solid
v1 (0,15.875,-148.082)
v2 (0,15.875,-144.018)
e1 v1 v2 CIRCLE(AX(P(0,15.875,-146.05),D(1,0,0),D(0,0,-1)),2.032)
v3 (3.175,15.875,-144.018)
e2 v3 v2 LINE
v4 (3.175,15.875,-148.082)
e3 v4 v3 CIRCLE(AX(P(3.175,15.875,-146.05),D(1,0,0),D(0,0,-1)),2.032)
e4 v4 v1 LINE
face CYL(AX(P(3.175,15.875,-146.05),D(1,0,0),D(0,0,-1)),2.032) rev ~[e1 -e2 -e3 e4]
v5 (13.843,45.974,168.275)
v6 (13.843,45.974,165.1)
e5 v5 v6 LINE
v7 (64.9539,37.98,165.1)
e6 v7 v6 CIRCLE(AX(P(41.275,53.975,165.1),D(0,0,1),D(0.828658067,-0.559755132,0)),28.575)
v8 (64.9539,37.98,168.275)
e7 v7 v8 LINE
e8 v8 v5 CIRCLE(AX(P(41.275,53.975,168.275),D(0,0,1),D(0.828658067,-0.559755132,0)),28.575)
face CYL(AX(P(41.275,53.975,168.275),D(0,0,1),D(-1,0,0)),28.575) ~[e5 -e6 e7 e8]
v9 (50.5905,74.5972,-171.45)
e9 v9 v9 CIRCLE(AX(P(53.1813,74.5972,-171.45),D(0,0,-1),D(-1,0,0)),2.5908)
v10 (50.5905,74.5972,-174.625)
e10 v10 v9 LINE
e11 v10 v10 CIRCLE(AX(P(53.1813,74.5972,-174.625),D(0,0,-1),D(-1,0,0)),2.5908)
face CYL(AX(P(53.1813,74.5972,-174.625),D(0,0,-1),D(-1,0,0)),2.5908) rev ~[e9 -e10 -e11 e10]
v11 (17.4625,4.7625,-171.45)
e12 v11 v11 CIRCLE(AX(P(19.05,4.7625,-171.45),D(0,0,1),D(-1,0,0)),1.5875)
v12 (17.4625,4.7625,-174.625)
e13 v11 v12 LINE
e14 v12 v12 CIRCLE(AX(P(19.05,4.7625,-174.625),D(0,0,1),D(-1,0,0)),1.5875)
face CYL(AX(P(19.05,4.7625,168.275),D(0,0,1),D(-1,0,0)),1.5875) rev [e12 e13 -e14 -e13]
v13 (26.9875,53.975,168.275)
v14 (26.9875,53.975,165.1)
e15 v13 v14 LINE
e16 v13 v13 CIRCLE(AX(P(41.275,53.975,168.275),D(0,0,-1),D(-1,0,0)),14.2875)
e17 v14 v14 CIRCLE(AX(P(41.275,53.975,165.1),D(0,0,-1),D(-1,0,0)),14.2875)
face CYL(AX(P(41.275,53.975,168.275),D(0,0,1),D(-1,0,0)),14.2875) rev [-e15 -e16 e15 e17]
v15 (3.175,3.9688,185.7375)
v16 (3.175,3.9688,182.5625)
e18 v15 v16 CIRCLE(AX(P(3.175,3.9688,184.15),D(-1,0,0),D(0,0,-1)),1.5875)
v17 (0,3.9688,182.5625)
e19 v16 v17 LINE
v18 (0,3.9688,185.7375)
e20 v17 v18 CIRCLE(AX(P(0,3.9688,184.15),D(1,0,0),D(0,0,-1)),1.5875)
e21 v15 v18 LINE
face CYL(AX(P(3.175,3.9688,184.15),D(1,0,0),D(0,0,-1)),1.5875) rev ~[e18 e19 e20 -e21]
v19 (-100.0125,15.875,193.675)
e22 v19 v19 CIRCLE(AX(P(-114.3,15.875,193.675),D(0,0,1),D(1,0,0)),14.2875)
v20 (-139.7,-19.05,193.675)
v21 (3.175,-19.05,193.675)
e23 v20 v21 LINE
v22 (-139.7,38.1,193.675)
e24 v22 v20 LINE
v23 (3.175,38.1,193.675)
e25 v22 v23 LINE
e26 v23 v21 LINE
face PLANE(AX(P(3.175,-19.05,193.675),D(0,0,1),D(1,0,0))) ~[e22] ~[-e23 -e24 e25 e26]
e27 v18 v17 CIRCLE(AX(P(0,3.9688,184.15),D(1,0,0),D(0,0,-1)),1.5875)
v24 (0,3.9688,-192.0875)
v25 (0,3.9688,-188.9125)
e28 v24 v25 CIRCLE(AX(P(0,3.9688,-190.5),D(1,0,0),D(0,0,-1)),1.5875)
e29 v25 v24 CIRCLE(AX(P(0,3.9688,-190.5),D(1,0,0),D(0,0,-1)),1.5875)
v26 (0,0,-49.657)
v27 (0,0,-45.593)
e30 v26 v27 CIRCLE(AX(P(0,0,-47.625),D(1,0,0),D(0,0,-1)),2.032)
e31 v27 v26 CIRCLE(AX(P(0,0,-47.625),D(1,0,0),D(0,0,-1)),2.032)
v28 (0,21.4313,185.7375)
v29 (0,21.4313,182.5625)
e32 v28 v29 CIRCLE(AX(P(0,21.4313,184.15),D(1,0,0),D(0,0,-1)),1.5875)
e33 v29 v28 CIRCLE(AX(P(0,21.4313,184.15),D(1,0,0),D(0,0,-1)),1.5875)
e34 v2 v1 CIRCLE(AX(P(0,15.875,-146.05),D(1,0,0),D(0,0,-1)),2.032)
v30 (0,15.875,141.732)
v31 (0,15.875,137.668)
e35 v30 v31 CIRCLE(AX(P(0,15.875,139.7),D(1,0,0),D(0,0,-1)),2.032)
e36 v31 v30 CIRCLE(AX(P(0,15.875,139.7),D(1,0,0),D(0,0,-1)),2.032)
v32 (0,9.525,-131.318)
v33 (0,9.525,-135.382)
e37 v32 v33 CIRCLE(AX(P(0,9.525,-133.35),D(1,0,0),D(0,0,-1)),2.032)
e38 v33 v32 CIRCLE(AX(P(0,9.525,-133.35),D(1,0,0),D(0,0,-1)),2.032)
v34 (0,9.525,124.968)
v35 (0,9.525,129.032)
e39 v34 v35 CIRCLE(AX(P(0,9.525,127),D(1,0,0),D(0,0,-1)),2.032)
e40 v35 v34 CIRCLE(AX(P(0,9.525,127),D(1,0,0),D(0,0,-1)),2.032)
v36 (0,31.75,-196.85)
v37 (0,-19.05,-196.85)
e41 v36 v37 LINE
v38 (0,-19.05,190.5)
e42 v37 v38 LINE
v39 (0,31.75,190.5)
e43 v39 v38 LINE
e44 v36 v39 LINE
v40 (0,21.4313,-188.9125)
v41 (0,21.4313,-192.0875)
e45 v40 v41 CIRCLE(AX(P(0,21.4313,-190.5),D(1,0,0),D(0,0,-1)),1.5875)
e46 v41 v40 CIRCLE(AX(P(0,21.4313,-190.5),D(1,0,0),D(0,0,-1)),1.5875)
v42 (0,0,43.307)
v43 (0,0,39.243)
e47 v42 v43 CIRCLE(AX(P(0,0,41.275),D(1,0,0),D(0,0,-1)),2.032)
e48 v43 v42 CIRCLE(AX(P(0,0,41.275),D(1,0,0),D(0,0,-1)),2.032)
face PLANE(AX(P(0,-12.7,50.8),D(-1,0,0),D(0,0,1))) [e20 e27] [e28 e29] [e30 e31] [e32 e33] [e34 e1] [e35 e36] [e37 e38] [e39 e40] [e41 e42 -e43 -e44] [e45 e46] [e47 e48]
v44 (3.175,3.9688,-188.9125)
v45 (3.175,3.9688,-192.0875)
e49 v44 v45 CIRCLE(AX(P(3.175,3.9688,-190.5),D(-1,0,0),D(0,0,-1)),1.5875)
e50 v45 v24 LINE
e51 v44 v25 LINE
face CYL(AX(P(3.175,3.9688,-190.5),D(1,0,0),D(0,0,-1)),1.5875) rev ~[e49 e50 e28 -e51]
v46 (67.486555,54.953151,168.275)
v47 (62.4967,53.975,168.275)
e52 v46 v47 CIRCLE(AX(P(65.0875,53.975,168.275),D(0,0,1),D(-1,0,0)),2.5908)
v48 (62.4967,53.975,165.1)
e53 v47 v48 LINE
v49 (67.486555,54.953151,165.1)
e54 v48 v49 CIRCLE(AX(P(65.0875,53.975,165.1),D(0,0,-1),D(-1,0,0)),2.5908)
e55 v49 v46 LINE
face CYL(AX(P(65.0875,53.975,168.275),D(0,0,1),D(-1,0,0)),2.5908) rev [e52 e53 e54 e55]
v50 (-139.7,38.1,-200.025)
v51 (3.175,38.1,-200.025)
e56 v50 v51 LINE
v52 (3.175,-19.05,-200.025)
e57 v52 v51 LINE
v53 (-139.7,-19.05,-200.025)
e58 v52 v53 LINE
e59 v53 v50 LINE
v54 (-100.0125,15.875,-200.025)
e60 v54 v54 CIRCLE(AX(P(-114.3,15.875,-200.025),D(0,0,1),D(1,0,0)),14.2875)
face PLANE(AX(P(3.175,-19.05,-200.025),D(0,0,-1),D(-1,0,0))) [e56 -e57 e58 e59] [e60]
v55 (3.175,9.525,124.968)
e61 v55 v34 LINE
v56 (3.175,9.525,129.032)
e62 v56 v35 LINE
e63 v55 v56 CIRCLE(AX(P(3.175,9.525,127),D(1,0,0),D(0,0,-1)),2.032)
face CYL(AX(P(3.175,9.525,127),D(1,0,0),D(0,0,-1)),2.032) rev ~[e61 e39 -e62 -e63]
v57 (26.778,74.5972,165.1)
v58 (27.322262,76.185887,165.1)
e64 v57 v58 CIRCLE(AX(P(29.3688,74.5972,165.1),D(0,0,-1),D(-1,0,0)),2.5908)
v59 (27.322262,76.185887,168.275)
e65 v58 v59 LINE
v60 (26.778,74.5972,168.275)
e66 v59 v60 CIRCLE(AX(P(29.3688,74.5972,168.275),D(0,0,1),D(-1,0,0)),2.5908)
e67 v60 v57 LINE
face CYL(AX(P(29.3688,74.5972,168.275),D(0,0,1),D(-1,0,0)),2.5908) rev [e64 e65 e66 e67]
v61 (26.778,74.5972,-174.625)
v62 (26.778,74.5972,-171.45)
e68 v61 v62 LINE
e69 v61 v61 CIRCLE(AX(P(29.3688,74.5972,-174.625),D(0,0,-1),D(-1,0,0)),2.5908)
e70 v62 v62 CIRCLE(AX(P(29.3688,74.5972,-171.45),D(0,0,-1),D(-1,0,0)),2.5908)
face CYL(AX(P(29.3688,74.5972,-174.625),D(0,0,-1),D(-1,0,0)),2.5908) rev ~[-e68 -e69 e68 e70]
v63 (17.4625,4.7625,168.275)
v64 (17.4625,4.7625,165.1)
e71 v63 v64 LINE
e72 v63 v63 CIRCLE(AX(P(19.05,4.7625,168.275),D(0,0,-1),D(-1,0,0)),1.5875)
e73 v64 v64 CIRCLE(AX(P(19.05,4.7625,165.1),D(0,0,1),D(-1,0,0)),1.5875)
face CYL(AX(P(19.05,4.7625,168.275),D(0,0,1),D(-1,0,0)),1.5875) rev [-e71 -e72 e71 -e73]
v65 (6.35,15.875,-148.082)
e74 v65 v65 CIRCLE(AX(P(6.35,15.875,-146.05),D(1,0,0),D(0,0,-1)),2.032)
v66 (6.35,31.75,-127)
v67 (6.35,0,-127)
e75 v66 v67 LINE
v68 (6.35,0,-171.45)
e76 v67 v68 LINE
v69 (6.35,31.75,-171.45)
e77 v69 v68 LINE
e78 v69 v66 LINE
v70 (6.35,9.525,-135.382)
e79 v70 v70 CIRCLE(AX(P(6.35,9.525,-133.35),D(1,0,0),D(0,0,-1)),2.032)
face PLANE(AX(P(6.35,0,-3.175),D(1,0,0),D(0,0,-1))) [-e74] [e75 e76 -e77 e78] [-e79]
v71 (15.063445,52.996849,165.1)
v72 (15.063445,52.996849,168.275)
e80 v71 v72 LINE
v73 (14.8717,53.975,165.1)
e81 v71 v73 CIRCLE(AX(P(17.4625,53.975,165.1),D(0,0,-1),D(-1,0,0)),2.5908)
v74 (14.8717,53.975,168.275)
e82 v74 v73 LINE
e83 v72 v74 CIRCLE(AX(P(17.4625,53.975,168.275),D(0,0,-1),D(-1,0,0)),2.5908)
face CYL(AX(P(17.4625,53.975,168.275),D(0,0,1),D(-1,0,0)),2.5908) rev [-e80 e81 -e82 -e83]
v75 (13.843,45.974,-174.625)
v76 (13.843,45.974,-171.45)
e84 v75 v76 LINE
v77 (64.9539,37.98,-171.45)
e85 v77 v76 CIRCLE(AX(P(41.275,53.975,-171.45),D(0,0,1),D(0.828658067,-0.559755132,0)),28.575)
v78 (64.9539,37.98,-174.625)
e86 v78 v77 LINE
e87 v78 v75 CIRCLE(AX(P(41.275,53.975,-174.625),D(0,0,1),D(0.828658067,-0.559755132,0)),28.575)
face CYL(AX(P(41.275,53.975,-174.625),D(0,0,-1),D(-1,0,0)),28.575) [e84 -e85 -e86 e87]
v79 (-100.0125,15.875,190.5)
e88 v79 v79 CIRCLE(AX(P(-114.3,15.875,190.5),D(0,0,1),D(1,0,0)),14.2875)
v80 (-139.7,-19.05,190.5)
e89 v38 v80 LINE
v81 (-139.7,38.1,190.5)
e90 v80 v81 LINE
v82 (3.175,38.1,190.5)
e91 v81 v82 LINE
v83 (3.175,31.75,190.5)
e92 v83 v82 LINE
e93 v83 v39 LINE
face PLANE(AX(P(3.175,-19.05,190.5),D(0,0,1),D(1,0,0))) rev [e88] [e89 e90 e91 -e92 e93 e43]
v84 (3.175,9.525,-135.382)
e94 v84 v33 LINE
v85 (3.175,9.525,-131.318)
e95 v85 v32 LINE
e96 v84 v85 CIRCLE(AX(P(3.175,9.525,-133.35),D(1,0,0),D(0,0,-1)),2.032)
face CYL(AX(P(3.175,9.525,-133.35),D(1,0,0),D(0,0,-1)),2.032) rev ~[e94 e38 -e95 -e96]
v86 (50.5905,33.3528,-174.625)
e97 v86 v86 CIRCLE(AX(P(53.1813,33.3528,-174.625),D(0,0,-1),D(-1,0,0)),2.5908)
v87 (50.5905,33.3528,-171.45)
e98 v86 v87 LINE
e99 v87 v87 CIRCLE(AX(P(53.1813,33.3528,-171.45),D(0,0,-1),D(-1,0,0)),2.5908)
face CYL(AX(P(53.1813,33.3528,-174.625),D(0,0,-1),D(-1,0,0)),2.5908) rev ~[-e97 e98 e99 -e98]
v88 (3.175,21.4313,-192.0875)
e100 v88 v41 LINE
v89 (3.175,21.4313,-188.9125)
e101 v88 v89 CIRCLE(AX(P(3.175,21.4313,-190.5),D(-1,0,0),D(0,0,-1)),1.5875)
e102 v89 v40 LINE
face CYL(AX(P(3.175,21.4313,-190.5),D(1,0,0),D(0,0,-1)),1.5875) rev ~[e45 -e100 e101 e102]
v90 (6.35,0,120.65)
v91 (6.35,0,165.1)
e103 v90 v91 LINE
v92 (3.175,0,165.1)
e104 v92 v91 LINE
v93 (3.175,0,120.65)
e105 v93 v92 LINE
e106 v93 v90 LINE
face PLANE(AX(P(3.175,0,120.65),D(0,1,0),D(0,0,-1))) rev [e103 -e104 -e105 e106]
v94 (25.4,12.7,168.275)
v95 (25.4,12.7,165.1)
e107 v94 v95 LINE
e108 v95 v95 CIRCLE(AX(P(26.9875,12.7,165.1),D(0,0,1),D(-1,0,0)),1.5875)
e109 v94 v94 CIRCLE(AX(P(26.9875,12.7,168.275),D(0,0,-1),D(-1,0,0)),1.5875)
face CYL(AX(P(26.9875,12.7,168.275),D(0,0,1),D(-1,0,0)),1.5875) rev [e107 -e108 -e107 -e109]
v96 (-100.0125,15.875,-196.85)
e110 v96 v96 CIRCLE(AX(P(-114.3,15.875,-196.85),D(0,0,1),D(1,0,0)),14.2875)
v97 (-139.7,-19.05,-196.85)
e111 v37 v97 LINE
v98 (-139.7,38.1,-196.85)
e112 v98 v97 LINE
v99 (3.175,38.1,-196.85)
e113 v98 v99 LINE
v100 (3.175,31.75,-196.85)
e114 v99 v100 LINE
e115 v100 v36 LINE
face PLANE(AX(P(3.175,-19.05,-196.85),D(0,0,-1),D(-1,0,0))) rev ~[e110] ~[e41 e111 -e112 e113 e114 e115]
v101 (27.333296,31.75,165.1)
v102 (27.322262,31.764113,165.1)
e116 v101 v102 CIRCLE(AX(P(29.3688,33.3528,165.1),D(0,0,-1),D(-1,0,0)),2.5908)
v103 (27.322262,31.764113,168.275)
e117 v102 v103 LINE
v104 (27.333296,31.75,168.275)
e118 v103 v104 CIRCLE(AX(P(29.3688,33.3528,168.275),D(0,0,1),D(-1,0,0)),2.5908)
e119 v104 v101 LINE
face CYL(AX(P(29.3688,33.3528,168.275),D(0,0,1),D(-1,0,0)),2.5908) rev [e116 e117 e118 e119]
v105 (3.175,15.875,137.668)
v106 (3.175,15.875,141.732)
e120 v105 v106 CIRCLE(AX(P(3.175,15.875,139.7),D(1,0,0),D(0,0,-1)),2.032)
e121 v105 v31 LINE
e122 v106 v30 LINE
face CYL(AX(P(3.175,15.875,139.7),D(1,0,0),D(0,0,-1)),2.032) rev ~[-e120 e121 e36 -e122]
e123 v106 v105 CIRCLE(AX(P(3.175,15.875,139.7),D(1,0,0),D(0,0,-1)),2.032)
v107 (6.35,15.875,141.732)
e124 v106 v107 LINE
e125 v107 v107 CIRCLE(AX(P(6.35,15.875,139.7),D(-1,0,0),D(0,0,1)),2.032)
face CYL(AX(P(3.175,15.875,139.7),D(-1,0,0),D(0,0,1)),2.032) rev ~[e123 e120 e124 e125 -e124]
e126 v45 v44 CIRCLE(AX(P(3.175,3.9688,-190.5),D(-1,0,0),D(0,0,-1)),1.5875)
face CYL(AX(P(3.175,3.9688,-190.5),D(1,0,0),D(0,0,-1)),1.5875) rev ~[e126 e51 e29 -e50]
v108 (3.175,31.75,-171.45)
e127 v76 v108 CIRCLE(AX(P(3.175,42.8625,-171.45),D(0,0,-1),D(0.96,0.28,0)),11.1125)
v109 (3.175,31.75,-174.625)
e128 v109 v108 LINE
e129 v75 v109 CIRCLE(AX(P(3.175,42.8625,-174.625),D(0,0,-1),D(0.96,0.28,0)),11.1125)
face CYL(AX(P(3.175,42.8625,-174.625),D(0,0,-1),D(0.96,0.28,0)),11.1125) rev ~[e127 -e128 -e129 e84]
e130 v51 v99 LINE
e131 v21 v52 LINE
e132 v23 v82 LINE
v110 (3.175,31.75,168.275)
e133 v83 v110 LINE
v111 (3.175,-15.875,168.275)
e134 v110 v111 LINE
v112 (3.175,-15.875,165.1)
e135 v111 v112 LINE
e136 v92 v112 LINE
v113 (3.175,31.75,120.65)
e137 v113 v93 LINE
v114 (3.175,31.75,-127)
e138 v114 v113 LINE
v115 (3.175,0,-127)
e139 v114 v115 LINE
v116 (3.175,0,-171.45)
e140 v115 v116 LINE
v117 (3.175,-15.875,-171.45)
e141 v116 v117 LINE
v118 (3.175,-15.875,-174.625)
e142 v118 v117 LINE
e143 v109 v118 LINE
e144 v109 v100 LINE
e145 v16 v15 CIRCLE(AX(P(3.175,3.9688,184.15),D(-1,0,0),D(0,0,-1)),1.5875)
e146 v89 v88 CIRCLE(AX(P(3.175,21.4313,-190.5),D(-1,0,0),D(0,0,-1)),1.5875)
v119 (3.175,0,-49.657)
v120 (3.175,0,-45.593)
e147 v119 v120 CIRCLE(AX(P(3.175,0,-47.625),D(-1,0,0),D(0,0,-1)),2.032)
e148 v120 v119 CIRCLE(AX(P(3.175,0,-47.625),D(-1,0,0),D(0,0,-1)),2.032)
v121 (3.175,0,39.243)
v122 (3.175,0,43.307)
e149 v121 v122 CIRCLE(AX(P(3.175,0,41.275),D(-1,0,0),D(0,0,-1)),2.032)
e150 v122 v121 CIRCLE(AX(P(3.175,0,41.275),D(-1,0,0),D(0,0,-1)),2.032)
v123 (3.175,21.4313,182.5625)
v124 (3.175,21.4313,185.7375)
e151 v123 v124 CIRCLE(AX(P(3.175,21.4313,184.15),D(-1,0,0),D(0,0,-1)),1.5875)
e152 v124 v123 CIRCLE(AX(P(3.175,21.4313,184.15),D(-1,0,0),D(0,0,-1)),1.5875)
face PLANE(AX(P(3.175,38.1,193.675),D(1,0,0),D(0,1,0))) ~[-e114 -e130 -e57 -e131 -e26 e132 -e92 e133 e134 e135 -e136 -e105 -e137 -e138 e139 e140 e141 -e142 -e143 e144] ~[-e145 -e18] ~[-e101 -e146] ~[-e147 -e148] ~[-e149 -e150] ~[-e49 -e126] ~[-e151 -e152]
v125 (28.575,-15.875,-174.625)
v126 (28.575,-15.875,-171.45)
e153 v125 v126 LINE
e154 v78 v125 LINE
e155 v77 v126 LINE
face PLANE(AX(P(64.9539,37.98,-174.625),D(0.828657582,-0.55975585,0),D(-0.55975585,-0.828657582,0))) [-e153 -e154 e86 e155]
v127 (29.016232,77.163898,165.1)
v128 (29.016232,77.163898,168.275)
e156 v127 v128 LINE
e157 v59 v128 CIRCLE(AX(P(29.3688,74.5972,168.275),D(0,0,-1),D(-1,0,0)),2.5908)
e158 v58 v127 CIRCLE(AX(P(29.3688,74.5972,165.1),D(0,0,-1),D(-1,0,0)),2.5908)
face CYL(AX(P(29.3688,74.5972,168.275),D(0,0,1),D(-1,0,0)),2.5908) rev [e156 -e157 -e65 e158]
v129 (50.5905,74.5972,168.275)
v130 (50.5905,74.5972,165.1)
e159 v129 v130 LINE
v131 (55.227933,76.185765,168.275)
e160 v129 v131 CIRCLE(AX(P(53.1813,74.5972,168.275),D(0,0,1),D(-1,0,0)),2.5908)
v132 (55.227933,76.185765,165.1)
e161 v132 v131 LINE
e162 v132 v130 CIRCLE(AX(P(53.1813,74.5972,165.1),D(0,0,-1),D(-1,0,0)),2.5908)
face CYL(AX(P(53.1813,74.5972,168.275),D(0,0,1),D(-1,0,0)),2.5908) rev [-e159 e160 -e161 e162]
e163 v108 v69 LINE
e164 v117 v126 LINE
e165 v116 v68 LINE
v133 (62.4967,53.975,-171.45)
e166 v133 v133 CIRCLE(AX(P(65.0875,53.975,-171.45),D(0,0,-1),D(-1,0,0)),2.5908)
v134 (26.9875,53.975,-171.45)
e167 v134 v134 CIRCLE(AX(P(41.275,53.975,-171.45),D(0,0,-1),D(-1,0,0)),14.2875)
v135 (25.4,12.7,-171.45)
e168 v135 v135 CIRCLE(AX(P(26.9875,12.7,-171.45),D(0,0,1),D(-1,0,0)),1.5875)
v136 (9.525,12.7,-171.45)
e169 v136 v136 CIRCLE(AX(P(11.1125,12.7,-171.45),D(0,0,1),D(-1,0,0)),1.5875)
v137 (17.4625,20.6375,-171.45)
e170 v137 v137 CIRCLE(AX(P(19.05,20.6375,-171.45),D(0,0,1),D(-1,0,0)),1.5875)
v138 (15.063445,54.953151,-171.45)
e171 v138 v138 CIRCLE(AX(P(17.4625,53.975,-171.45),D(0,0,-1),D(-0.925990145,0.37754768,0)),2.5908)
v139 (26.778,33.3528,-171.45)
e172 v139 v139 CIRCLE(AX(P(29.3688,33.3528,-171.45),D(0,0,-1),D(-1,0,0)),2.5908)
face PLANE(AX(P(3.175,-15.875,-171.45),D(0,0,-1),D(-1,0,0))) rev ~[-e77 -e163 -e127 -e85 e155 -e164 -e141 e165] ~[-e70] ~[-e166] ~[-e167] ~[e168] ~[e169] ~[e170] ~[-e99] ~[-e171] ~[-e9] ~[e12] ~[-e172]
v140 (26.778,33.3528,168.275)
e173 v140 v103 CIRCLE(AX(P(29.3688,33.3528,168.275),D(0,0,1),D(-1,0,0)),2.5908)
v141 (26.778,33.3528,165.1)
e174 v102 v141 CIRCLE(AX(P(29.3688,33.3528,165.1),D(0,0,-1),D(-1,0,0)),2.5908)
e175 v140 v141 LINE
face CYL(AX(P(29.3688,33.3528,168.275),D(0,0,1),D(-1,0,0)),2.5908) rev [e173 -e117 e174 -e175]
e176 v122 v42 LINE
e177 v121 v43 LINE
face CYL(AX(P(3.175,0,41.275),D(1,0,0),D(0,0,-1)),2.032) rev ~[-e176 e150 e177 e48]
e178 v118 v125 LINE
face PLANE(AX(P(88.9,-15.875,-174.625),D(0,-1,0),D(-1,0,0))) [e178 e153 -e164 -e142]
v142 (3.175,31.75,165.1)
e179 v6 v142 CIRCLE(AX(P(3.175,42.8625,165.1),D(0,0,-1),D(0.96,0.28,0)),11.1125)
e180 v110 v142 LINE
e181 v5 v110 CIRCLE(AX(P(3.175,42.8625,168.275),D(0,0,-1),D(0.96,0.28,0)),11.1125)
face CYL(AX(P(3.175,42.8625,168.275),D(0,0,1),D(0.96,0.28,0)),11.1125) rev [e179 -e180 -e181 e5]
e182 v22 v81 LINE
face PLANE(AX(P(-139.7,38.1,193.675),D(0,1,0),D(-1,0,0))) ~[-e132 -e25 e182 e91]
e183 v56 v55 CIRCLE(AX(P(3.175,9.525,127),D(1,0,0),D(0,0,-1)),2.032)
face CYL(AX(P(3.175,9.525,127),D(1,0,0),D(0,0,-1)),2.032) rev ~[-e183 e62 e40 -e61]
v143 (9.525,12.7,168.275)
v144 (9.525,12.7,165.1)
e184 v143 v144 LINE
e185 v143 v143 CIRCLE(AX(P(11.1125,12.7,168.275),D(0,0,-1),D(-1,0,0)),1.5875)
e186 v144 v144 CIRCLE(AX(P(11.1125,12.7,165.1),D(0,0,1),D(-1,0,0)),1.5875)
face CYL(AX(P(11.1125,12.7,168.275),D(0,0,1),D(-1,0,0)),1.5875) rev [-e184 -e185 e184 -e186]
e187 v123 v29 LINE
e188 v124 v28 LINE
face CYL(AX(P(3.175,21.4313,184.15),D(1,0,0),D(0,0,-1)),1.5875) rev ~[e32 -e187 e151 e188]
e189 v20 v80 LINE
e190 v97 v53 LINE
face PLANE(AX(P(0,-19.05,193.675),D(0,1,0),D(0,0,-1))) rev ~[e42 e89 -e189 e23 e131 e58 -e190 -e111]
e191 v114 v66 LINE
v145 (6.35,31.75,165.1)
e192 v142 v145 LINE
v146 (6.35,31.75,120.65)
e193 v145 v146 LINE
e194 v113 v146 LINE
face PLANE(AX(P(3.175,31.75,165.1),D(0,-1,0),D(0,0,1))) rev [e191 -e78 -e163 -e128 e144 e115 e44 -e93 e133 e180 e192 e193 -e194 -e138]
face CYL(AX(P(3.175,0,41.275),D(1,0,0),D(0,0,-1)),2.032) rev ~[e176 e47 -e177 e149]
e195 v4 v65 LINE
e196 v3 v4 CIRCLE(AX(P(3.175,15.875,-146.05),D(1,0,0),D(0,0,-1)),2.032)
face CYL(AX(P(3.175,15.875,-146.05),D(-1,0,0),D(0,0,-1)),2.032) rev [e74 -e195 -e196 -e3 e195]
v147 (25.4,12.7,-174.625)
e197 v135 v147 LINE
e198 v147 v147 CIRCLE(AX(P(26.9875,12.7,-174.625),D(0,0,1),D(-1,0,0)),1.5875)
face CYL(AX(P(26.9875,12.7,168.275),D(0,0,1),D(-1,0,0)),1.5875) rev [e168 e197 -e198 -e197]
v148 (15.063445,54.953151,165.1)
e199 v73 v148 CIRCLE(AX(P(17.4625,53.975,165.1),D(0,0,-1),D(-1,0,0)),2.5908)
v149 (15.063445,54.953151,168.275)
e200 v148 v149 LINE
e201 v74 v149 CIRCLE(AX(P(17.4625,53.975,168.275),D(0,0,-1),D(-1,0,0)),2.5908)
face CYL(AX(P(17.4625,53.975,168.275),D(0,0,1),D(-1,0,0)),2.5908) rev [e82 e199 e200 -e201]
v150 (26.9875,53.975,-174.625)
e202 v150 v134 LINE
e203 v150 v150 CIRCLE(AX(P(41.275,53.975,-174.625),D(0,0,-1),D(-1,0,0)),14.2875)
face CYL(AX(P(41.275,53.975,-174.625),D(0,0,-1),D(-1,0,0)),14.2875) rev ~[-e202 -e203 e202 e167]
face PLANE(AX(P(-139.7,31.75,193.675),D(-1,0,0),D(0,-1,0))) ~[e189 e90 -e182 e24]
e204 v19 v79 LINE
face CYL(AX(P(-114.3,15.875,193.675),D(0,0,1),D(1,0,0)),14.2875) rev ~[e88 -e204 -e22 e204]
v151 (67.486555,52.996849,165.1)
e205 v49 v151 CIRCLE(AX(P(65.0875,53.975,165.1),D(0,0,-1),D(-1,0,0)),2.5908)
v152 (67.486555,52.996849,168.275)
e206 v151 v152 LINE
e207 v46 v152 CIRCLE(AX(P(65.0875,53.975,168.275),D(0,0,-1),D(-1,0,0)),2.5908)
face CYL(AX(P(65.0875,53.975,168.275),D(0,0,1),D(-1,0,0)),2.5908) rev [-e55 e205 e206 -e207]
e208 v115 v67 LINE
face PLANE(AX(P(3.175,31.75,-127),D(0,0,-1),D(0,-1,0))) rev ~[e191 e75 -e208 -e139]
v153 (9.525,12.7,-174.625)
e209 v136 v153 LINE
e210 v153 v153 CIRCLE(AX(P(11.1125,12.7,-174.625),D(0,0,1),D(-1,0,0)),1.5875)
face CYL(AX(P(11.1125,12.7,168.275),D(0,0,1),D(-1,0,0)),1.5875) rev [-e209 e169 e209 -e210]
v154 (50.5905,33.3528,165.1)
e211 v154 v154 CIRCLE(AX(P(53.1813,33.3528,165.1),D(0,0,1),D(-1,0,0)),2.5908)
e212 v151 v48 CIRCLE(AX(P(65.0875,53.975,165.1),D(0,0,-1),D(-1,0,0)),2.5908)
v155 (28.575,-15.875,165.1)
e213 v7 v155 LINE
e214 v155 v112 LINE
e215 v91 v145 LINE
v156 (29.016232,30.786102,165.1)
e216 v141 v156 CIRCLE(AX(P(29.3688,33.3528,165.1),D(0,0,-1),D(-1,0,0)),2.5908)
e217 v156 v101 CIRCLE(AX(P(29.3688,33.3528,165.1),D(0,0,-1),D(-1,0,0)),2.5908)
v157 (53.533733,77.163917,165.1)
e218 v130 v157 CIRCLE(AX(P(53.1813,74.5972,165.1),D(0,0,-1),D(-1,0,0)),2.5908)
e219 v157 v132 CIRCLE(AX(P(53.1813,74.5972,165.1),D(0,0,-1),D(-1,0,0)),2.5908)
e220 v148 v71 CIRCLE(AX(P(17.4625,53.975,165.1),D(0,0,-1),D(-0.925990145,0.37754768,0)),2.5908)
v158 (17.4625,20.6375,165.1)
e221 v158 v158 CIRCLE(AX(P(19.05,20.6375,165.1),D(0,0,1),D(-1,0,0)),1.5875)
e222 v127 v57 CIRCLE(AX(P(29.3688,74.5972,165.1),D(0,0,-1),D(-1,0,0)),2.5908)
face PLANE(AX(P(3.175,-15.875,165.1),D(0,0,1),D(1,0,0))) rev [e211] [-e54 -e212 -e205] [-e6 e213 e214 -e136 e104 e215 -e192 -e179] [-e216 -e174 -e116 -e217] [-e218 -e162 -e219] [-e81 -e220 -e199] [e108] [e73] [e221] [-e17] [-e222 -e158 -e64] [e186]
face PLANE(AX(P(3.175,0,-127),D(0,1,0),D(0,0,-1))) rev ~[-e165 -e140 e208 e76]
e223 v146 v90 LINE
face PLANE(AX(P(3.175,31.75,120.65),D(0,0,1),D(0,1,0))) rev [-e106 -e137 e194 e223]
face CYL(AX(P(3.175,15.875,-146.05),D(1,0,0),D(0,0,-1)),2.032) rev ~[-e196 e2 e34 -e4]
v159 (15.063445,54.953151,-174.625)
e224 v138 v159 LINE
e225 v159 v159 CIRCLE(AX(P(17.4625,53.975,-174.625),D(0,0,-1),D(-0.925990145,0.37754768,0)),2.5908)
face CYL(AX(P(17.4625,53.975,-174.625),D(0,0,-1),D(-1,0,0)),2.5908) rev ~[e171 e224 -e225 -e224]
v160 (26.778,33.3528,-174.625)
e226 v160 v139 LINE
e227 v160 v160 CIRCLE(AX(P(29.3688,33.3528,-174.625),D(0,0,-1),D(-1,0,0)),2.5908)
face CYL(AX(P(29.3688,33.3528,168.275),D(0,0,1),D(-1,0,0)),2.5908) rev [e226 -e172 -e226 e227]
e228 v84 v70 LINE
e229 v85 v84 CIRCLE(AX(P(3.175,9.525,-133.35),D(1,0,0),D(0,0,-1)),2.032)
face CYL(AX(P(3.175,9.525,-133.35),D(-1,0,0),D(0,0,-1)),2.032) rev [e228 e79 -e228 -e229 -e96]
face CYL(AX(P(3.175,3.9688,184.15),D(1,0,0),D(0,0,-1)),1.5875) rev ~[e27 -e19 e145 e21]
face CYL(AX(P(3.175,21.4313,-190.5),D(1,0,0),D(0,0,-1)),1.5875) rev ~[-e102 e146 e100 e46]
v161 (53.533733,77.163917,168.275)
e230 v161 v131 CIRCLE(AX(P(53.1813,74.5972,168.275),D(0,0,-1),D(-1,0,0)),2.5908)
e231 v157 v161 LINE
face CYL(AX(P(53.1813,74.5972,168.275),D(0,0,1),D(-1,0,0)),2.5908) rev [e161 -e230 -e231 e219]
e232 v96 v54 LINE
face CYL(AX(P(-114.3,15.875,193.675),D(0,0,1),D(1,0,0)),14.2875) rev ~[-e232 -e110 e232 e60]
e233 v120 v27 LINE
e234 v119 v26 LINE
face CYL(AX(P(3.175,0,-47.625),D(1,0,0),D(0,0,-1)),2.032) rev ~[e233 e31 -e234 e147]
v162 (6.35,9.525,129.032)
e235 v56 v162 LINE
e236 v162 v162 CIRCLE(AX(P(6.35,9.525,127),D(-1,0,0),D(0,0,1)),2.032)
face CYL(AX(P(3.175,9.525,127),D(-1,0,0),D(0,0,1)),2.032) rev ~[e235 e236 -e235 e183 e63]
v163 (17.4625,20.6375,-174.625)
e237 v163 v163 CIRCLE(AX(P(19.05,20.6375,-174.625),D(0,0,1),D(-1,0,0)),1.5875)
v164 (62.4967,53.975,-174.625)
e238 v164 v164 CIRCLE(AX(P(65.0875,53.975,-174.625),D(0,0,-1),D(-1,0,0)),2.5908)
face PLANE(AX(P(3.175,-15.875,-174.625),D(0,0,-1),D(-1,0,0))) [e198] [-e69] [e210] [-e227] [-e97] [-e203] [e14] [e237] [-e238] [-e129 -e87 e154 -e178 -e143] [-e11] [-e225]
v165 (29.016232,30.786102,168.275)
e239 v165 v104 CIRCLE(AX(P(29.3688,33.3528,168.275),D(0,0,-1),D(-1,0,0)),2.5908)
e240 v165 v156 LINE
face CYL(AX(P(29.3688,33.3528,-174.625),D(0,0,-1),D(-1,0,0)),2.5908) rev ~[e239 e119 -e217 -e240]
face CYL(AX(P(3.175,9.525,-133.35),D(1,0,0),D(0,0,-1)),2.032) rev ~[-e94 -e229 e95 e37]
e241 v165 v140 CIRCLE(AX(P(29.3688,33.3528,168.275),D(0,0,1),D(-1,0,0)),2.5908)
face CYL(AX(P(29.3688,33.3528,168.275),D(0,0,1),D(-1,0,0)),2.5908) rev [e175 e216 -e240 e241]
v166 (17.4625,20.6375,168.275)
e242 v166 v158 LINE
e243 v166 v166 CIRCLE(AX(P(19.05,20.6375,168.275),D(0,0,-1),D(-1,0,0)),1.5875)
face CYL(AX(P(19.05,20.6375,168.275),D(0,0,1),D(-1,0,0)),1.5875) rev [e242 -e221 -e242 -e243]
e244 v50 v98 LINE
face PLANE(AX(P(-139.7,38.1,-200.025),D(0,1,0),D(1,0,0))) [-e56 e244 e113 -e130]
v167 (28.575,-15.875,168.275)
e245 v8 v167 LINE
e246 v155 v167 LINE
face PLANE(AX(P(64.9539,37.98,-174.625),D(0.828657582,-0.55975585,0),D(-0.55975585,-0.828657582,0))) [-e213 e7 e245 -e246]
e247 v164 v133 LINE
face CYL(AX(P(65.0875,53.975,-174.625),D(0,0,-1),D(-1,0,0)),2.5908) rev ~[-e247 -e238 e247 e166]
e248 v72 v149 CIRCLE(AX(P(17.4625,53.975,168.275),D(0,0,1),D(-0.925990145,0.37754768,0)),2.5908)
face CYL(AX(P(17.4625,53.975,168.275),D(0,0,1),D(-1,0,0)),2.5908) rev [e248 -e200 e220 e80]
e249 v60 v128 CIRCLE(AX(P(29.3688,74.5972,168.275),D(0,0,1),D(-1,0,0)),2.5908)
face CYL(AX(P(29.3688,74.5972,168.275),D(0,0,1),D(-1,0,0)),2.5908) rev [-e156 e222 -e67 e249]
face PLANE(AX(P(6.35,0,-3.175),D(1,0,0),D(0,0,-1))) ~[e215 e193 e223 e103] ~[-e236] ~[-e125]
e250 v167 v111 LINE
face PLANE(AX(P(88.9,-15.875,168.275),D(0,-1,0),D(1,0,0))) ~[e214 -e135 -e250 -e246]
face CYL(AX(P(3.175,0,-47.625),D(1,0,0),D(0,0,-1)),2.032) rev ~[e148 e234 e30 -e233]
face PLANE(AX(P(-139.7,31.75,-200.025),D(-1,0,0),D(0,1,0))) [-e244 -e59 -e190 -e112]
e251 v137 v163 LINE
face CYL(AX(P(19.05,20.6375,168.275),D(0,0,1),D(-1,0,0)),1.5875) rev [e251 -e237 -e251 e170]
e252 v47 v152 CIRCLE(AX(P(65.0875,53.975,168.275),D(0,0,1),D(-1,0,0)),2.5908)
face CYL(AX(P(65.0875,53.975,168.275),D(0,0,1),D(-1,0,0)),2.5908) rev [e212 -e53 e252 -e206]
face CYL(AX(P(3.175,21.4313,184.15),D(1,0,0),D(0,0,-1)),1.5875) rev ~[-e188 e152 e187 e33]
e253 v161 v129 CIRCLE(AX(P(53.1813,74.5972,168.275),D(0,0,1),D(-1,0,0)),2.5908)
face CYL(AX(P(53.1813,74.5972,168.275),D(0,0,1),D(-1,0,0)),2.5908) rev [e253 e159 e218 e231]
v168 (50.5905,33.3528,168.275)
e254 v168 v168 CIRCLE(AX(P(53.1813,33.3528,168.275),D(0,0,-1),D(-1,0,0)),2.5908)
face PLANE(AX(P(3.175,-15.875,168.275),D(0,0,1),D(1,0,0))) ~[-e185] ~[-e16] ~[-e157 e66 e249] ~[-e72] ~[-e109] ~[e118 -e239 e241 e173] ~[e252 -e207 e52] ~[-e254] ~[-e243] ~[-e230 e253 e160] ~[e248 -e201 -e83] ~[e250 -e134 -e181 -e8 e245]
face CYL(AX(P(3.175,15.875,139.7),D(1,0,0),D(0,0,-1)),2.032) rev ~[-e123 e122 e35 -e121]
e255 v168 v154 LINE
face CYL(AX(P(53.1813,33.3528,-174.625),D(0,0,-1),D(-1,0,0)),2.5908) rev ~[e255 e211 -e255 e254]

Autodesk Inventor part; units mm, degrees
ref_plane "YZ Plane" through (0, 0, 0) normal (1, 0, 0) x (0, 1, 0)
sketch "Sketch1" plane through (0, 0, 0) normal (0, 1, 0) x (-1, 0, 0)
  line L0 (0, 0) -> (-88.9, 0)
  line L1 (-88.9, 0) -> (-88.9, -3.175)
  line L2 (-88.9, -3.175) -> (0, -3.175)
  line L3 (0, -3.175) -> (0, 0)
  dimension "d0" = 88.9
  dimension "d1" = 3.175
extrude "Extrusion1" add sketch "Sketch1" along normal blind 25.4
sketch "Sketch2" plane through (0, 0, 0) normal (0, 0, 1) x (1, 0, 0)
  line L0 (88.9, 0) -> (88.9, 25.4) projected
  circle A0 centre (88.9, 12.7) radius 3.175
  point P0 (0, 0)
  dimension "d4" = 6.35
extrude "Extrusion2" cut sketch "Sketch2" against normal blind 25.4
sketch "Sketch3" plane through (0, 0, 0) normal (0, 0, 1) x (1, 0, 0)
  arc A0 (88.9, 15.875) -> (88.9, 9.525) centre (88.9, 12.7) ccw projected
  line L0 (88.9, 25.4) -> (0, 25.4) projected
  circle A1 centre (88.9, 12.7) radius 12.7
  line L1 (88.9, 15.875) -> (88.9, 25.4) projected
  circle A2 centre (88.9, 12.7) radius 3.175
  point P0 (0, 0)
extrude "Extrusion3" add sketch "Sketch3" against normal blind 3.175
sketch "Sketch4" plane through (0, 0, -3.175) normal (-1, 0, 0) x (0, 0, 1)
  line L0 (0, 0) -> (0, 25.4) projected
  line L1 (0, 0) -> (53.975, 0)
  line L2 (53.975, 0) -> (53.975, 25.4)
  line L3 (53.975, 25.4) -> (0, 25.4)
  line L4 (0, 25.4) -> (0, 0)
  point P0 (3.175, 0)
  dimension "d9" = 53.975
extrude "Extrusion4" add sketch "Sketch4" against normal blind 3.175
sketch "Sketch5" plane through (3.175, 0, -3.175) normal (1, 0, 0) x (0, 0, -1)
  line L0 (-3.175, 25.4) -> (-53.975, 25.4) projected
  line L1 (-3.175, 25.4) -> (-53.975, 12.7)
  line L2 (-53.975, 12.7) -> (-53.975, -12.7)
  line L3 (-53.975, 25.4) -> (-53.975, 0) projected
  line L4 (-53.975, -12.7) -> (-3.175, 0)
  line L5 (-3.175, 25.4) -> (-3.175, 0) projected
  line L6 (-3.175, 25.4) -> (-3.175, 0)
  dimension "d12" = 12.7
  dimension "d13" = 25.4
sketch "Sketch6" plane through (3.175, 0, -3.175) normal (1, 0, 0) x (0, 0, -1)
  line L0 (-3.175, 25.4) -> (-3.175, 0) projected
  line L1 (-3.175, 25.4) -> (-53.975, 25.4) projected
  line L2 (-53.975, 25.4) -> (-53.975, 0) projected
  line L3 (-53.975, 0) -> (-3.175, 0) projected
extrude "Extrusion5" cut sketch "Sketch6" against normal blind 25.4
extrude "Extrusion6" add sketch "Sketch5" against normal blind 3.175 contours L5 L4 L2 L1
mirror "Mirror3" about plane through (88.9, 0, -3.175) normal (0, 0, -1)
sketch "Sketch8" plane through (0, -12.7, 50.8) normal (-1, 0, 0) x (0, 0, 1)
  line L0 (-250.825, 44.45) -> (142.875, 44.45)
  line L1 (142.875, 44.45) -> (142.875, -6.35)
  line L2 (142.875, -6.35) -> (-250.825, -6.35)
  line L3 (-250.825, -6.35) -> (-250.825, 44.45)
  line L4 (-50.8, 12.7) -> (0, 0) construction
  line L5 (-107.95, 38.1) -> (0, 38.1) construction
  line L6 (0, 38.1) -> (0, 0) construction
  line L7 (0, 0) -> (-107.95, 0) construction
  line L8 (-107.95, 0) -> (-107.95, 38.1) construction
  point P0 (-53.975, 44.45)
  point P1 (-250.825, 19.05)
  point P2 (-53.975, 38.1)
  point P3 (0, 19.05)
  dimension "d20" = 393.7
  dimension "d21" = 50.8
  dimension "d22" = 53.975
  dimension "d23" = 19.05
extrude "Extrusion8" add sketch "Sketch8" against normal blind 3.175
sketch "Sketch9" plane through (0, -19.05, -200.025) normal (-1, 0, 0) x (0, 0, 1)
  line L0 (0, 0) -> (0, 50.8) projected
  line L1 (393.7, 0) -> (0, 0) projected
  line L2 (0, 50.8) -> (3.175, 50.8)
  line L3 (3.175, 50.8) -> (3.175, 0)
  line L4 (3.175, 0) -> (0, 0)
  line L5 (0, 0) -> (0, 50.8)
  line L6 (0, 50.8) -> (393.7, 50.8) projected
  line L7 (393.7, 50.8) -> (390.525, 50.8)
  line L8 (390.525, 50.8) -> (390.525, 0)
  line L9 (390.525, 0) -> (393.7, 0)
  line L10 (393.7, 0) -> (393.7, 50.8)
  point P0 (200.025, 19.05)
  dimension "d26" = 3.175
  dimension "d27" = 3.175
extrude "Extrusion9" add sketch "Sketch9" along normal blind 139.7 contours L0 L2 L3 L1 | L8 L6 L10 L1
sketch "Sketch10" plane through (0, -19.05, -196.85) normal (-1, 0, 0) x (0, 0, 1)
  line L0 (387.35, 0) -> (0, 0) projected
  ellipse E0 centre (12.7, 0) end of major axis (12.7, 19.05) minor radius 9.525
  line L1 (0, 0) -> (0, 50.8) projected
  ellipse E1 centre (12.7, 63.5) end of major axis (12.7, 44.45) minor radius 9.525
  line L2 (0, 50.8) -> (387.35, 50.8) projected
  point P0 (196.85, 19.05)
  dimension "d30" = 19.05
  dimension "d31" = 9.525
  dimension "d33" = 19.05
  dimension "d34" = 9.525
  dimension "d32" = 12.7
  dimension "d35" = 12.7
extrude "Extrusion10" cut sketch "Sketch10" against normal blind 139.7
sketch "Sketch11" plane through (3.175, -19.05, 193.675) normal (0, 0, 1) x (1, 0, 0)
  circle A0 centre (-117.475, 34.925) radius 14.2875
  line L0 (-142.875, 0) -> (-142.875, 50.8) projected
  line L1 (-142.875, 50.8) -> (0, 50.8) projected
  point P0 (-3.175, 19.05)
  dimension "d38" = 28.575
  dimension "d39" = 25.4
  dimension "d40" = 15.875
extrude "Extrusion11" cut sketch "Sketch11" against normal blind 395.2875
ref_plane "Work Plane1" through (3.175, -19.05, 168.275) normal (0, 0, 1) x (1, 0, 0)
sketch "Sketch12" plane through (3.175, -19.05, 168.275) normal (0, 0, 1) x (1, 0, 0)
  line L0 (0, 44.45) -> (0, 19.05) projected
  line L1 (0, 19.05) -> (85.725, 19.05) projected
  arc A0 (85.725, 19.05) -> (85.725, 44.45) centre (85.725, 31.75) ccw projected
  line L2 (0, 44.45) -> (85.725, 44.45) projected
  circle A1 centre (85.725, 31.75) radius 3.175 projected
  point P0 (-3.175, 19.05)
extrude "Extrusion12" add sketch "Sketch12" against normal blind 3.175
ref_plane "Work Plane2" through (3.175, -19.05, -3.175) normal (0, 0, 1) x (1, 0, 0)
sketch "Sketch13" plane through (88.9, 12.7, -6.35) normal (0, 0, -1) x (-1, 0, 0)
  line L0 (85.725, 12.7) -> (85.725, -12.7) projected
  line L1 (85.725, 12.7) -> (0, 12.7) projected
  arc A0 (0, 12.7) -> (0, -12.7) centre (0, 0) ccw projected
  line L2 (85.725, -12.7) -> (0, -12.7) projected
  circle A1 centre (0, 0) radius 3.175 projected
  point P0 (88.9, -12.7)
extrude "Extrusion13" cut sketch "Sketch13" against normal blind 6.35
mirror "Mirror4" about plane through (3.175, -19.05, -3.175) normal (0, 0, 1) of "Extrusion12"
sketch "Sketch15" plane through (3.175, 0, -3.175) normal (1, 0, 0) x (0, 0, -1)
  line L0 (-196.85, 31.75) -> (-196.85, -19.05) projected
  line L1 (196.85, -19.05) -> (196.85, 31.75) projected
  line L2 (-196.85, -19.05) -> (-196.85, 31.75) projected
  line L3 (173.8755, 31.75) -> (-196.85, 31.75) projected
  circle A0 centre (-44.45, 0) radius 2.032
  circle A1 centre (44.45, 0) radius 2.032
  point P0 (-3.175, 0)
  dimension "d51" = 152.4
  dimension "d52" = 152.4
  dimension "d54" = 31.75
  dimension "d63" = 4.064
  dimension "d64" = 4.064
sketch "Sketch16" plane through (3.175, 0, -3.175) normal (1, 0, 0) x (0, 0, -1)
  line L0 (-171.45, 25.4) -> (-168.275, 25.4) projected
  line L1 (-168.275, 0) -> (-168.275, 25.4) projected
  line L2 (-171.45, 0) -> (-168.275, 0) projected
  line L3 (-168.275, 0) -> (0, 0)
  line L4 (0, 0) -> (0, 31.75)
  line L5 (173.8755, 31.75) -> (-193.675, 31.75) projected
  circle A0 centre (-142.875, 15.875) radius 2.032
  circle A1 centre (-130.175, 9.525) radius 2.032
  circle A2 centre (142.875, 15.875) radius 2.032
  circle A3 centre (130.175, 9.525) radius 2.032
  point P0 (-3.175, 0)
  dimension "d53" = 9.525
  dimension "d55" = 25.4
  dimension "d56" = 38.1
  dimension "d57" = 9.525
  dimension "d58" = 168.275
  dimension "d59" = 4.064
  dimension "d60" = 4.064
extrude "Extrusion14" cut sketch "Sketch16" against normal blind 6.35
extrude "Extrusion15" cut sketch "Sketch15" against normal blind 6.35
sketch "Sketch17" plane through (3.175, 0, -3.175) normal (1, 0, 0) x (0, 0, -1)
  circle A0 centre (187.325, 21.4313) radius 1.5875
  circle A1 centre (187.325, 3.9688) radius 1.5875
  line L0 (171.45, 25.4) -> (171.45, 0) projected
  line L1 (171.45, 25.4) -> (168.275, 25.4) projected
  line L2 (-168.275, 25.4) -> (-168.275, 0) projected
  line L3 (-168.275, 0) -> (0, 0)
  line L4 (168.275, 0) -> (168.275, 25.4) projected
  line L5 (0, 0) -> (0, 31.75)
  line L6 (173.8755, 31.75) -> (-193.675, 31.75) projected
  circle A2 centre (-187.325, 21.4313) radius 1.5875
  circle A3 centre (-187.325, 3.9688) radius 1.5875
  point P0 (-3.175, 0)
  dimension "d67" = 3.175
  dimension "d68" = 3.175
  dimension "d69" = 15.875
  dimension "d70" = 17.4625
  dimension "d71" = 3.9688
  dimension "d72" = 168.275
extrude "Extrusion16" cut sketch "Sketch17" against normal blind 6.35
sketch "Sketch18" plane through (3.175, 0, -3.175) normal (1, 0, 0) x (0, 0, -1)
  circle A0 centre (-187.325, 21.4313) radius 1.5875 projected
  circle A1 centre (-187.325, 3.9688) radius 1.5875 projected
  circle A2 centre (-142.875, 15.875) radius 2.032 projected
  circle A3 centre (-130.175, 9.525) radius 2.032 projected
  circle A4 centre (-44.45, 0) radius 2.032 projected
  circle A5 centre (44.45, 0) radius 2.032 projected
  circle A6 centre (130.175, 9.525) radius 2.032 projected
  circle A7 centre (142.875, 15.875) radius 2.032 projected
  circle A8 centre (187.325, 21.4313) radius 1.5875 projected
  circle A9 centre (187.325, 3.9688) radius 1.5875 projected
  line L0 (-196.85, 31.75) -> (-196.85, -19.05) projected
  line L1 (173.8755, 31.75) -> (-196.85, 31.75) projected
  point P0 (-3.175, 0)
  dimension "d75" = 9.525
  dimension "d76" = 53.975
  dimension "d77" = 66.675
  dimension "d78" = 152.4
  dimension "d79" = 10.3187
  dimension "d80" = 27.7812
  dimension "d81" = 15.875
  dimension "d82" = 22.225
  dimension "d83" = 31.75
sketch "Sketch19" plane through (88.9, 25.4, -174.625) normal (0, 0, -1) x (-1, 0, 0)
  circle A0 centre (69.85, -4.7625) radius 1.5875
  circle A1 centre (61.9125, -12.7) radius 1.5875
  circle A2 centre (69.85, -20.6375) radius 1.5875
  circle A3 centre (77.7875, -12.7) radius 1.5875
  line L0 (85.725, 0) -> (85.725, -25.4) projected
  circle A4 centre (0, -12.7) radius 3.175 projected
  point P0 (88.9, -25.4)
  dimension "d84" = 3.175
  dimension "d85" = 3.175
  dimension "d86" = 3.175
  dimension "d87" = 3.175
  dimension "d88" = 15.875
  dimension "d89" = 7.9375
  dimension "d90" = 15.875
  dimension "d91" = 15.875
  dimension "d92" = 7.9375
extrude "Extrusion17" cut sketch "Sketch19" against normal blind 390.525 contours A0 | A1 | A2 | A3
sketch "Sketch20" plane through (3.175, 0, -3.175) normal (1, 0, 0) x (0, 0, -1)
  line L0 (-168.275, 25.4) -> (-168.275, 0) projected
  line L1 (-168.275, 0) -> (0, 0)
  line L2 (168.275, 0) -> (168.275, 25.4) projected
  line L3 (0, 0) -> (0, 31.75)
  line L4 (173.8755, 31.75) -> (-193.675, 31.75) projected
  point P0 (-3.175, 0)
  dimension "d95" = 168.275
sketch "Sketch21" plane through (88.9, 25.4, -174.625) normal (0, 0, -1) x (-1, 0, 0)
  circle A0 centre (0, -12.7) radius 3.175 projected
  circle A1 centre (0, -12.7) radius 28.575
  point P0 (88.9, -25.4)
  dimension "d96" = 57.15
extrude "Extrusion18" add sketch "Sketch21" against normal up to surface (3.175 mm away)
sketch "Sketch22" plane through (3.175, 0, -174.625) normal (0, 0, -1) x (-1, 0, 0)
  line L0 (0, 31.75) -> (142.875, 31.75) projected
  line L1 (0, 31.75) -> (-64.4265, 31.75)
  arc A0 (-60.1273, 25.4) -> (-60.1273, 0) centre (-85.725, 12.7) ccw projected
  line L2 (-85.725, -15.875) -> (0, -15.875)
  line L3 (0, 31.75) -> (0, -19.05) projected
  line L4 (-64.4265, 31.75) -> (-85.725, -15.875)
  line L5 (-22.4352, 23.7734) -> (-32.2132, 12.7)
  line L6 (-32.2132, 12.7) -> (-15.4548, 1.4363)
  line L7 (-15.4548, 1.4363) -> (-2.7633, 13.4933)
  line L8 (-2.7633, 13.4933) -> (-14.4053, 23.7734)
  line L9 (-14.4053, 23.7734) -> (-22.4352, 23.7734)
  line L10 (0, 25.4) -> (0, 0) projected
  line L11 (0, 31.75) -> (0, -15.875)
  point P0 (3.175, 0)
extrude "Extrusion19" add sketch "Sketch22" against normal blind 3.175 contours L3 L2 L4 L1
sketch "Sketch23" plane through (67.6015, 31.75, -174.625) normal (0, 0, -1) x (-1, 0, 0)
  circle A0 centre (-21.2985, -19.05) radius 28.321
  circle A1 centre (-33.2048, 1.5722) radius 2.5908
  circle A2 centre (2.514, -19.05) radius 2.5908
  circle A3 centre (-33.2048, -39.6722) radius 2.5908
  circle A4 centre (-21.2985, -19.05) radius 14.2875
  circle A5 centre (-9.3923, -39.6722) radius 2.5908
  circle A6 centre (-9.3923, 1.5722) radius 2.5908
  circle A7 centre (-45.111, -19.05) radius 2.5908
  circle A8 centre (-21.2985, -19.05) radius 3.175 projected
  point P0 (67.6015, -31.75)
  dimension "d101" = 56.642
  dimension "d102" = 28.575
  dimension "d103" = 11.9062
  dimension "d104" = 20.6222
  dimension "d105" = 23.8125
  dimension "d106" = 23.8125
  dimension "d107" = 41.2445
  dimension "d108" = 23.8125
extrude "Extrusion20" cut sketch "Sketch23" against normal blind 3.175 contours A1 | A2 | A3 | A5 | A6 | A7
sketch "Sketch24" plane through (67.6015, 31.75, -174.625) normal (0, 0, -1) x (-1, 0, 0)
  arc A0 (0, 0) -> (-21.2985, -47.625) centre (-21.2985, -19.05) ccw projected
  line L0 (-21.2985, 9.525) -> (0, 9.525)
  line L1 (0, 0) -> (64.4265, 0) projected
  line L2 (0, 9.525) -> (0, 0)
  arc A1 (0, 0) -> (-21.2985, 9.525) centre (-21.2985, -19.05) ccw
  point P0 (67.6015, -31.75)
extrude "Extrusion21" add sketch "Sketch24" against normal blind 3.175
sketch "Sketch25" plane through (88.9, -15.875, -174.625) normal (0, 0, -1) x (-1, 0, 0)
  circle A0 centre (0, 28.575) radius 3.175 projected
  circle A1 centre (0, 28.575) radius 14.2875
  point P0 (88.9, 15.875)
  dimension "d113" = 28.575
extrude "Extrusion22" cut sketch "Sketch25" against normal blind 3.175
sketch "Sketch26" plane through (3.175, 0, -3.175) normal (1, 0, 0) x (0, 0, -1)
  line L0 (168.275, 31.75) -> (-196.85, 31.75) projected
  line L1 (168.275, 31.75) -> (123.825, 31.75)
  line L2 (123.825, 31.75) -> (123.825, 0)
  line L3 (123.825, 0) -> (168.275, 0)
  line L4 (168.275, 0) -> (168.275, 31.75)
  circle A0 centre (130.175, 9.525) radius 2.032 projected
  circle A1 centre (142.875, 15.875) radius 2.032 projected
  point P0 (-3.175, 0)
  dimension "d116" = 44.45
  dimension "d117" = 31.75
extrude "Extrusion23" add sketch "Sketch26" along normal blind 3.175
mirror "Mirror5" about plane through (3.175, -19.05, -3.175) normal (0, 0, 1) of "Extrusion12", "Mirror4", "Extrusion22", "Extrusion20", "Extrusion18", "Extrusion21", "Extrusion19", "Extrusion23", "Extrusion17"
sketch "Sketch27" plane through (88.9, -15.875, -174.625) normal (0, 0, -1) x (-1, 0, 0)
  circle A0 centre (0, 28.575) radius 14.2875 projected
  point P0 (88.9, 15.875)
extrude "Extrusion24" cut sketch "Sketch27" against normal blind 3.175
sketch "Sketch28" plane through (3.175, -19.05, -200.025) normal (0, 0, -1) x (-1, 0, 0)
  line L0 (0, 50.8) -> (142.875, 50.8) projected
  line L1 (0, 50.8) -> (142.875, 50.8)
  line L2 (142.875, 50.8) -> (142.875, 57.15)
  line L3 (142.875, 57.15) -> (0, 57.15)
  line L4 (0, 57.15) -> (0, 50.8)
  point P0 (3.175, 19.05)
  dimension "d122" = 6.35
extrude "Extrusion25" add sketch "Sketch28" against normal blind 3.175
mirror "Mirror6" about plane through (3.175, -19.05, -3.175) normal (0, 0, 1) of "Extrusion25"
extrude "Extrusion26" cut sketch "Sketch23" against normal blind 519.1125 contours A2
sketch "Sketch29" plane through (88.9, -15.875, -174.625) normal (0, 0, -1) x (-1, 0, 0)
  circle A0 centre (0, 28.575) radius 14.2875 projected
  circle A1 centre (-11.9063, 49.1972) radius 2.5908 projected
  circle A2 centre (11.9062, 49.1972) radius 2.5908 projected
  circle A3 centre (23.8125, 28.575) radius 2.5908 projected
  circle A4 centre (11.9062, 7.9528) radius 2.5908 projected
  circle A5 centre (-11.9063, 7.9528) radius 2.5908 projected
  circle A6 centre (-23.8125, 28.575) radius 2.5908 projected
  circle A7 centre (47.625, 69.85) radius 14.2875
  circle A8 centre (35.7187, 90.4722) radius 2.5908
  circle A9 centre (59.5312, 90.4722) radius 2.5908
  circle A10 centre (71.4375, 69.85) radius 2.5908
  circle A11 centre (59.5312, 49.2278) radius 2.5908
  circle A12 centre (35.7187, 49.2278) radius 2.5908
  circle A13 centre (23.8125, 69.85) radius 2.5908
  circle A14 centre (47.625, 69.85) radius 28.575
  point P0 (88.9, 15.875)
  dimension "d127" = 41.275
  dimension "d128" = 41.275
  dimension "d129" = 41.275
  dimension "d130" = 41.275
  dimension "d131" = 41.275
  dimension "d132" = 41.275
  dimension "d133" = 41.275
  dimension "d134" = 47.625
  dimension "d135" = 47.625
  dimension "d136" = 47.625
  dimension "d137" = 47.625
  dimension "d138" = 47.625
  dimension "d139" = 47.625
  dimension "d140" = 47.625
  dimension "d141" = 57.15
sketch "Sketch30" plane through (88.9, -15.875, -174.625) normal (0, 0, -1) x (-1, 0, 0)
  line L0 (-36.1671, 81.9483) -> (-25.1444, 2.22)
  line L1 (-25.1444, 2.22) -> (19.05, 13.7583)
  circle A0 centre (47.625, 69.85) radius 28.575 projected
  line L2 (19.05, 13.7583) -> (19.05, 69.85)
  line L3 (68.9235, 50.8) -> (85.725, 50.8)
  line L4 (85.725, 47.625) -> (85.725, 53.975) projected
  line L5 (85.725, 50.8) -> (48.9227, 121.8375)
  line L6 (48.9227, 121.8375) -> (-36.1671, 81.9483)
  point P0 (88.9, 15.875)
extrude "Extrusion27" cut sketch "Sketch30" against normal blind 519.1125 contours L6 L5 A0 L2 L1 L0 | L5 L3 A0
extrude "Extrusion28" cut sketch "Sketch29" against normal blind 519.1125 contours A8 | A9 | A10 | A11 | A12 | A13
extrude "Extrusion29" add sketch "Sketch29" against normal blind 3.175 contours A14
mirror "Mirror7" about plane through (3.175, -19.05, -3.175) normal (0, 0, 1)
sketch "Sketch34" plane through (69.85, -15.875, -174.625) normal (0, 0, -1) x (-1, 0, 0)
  arc A0 (7.3533, 69.85) -> (19.2595, 49.2278) centre (28.575, 69.85) ccw projected
  circle A1 centre (28.575, 69.85) radius 26.2298
  circle A2 centre (50.8, 20.6375) radius 1.5875 projected
  circle A3 centre (58.7375, 28.575) radius 1.5875 projected
  line L0 (58.7375, 28.575) -> (45.1684, 28.575)
  circle A4 centre (50.8, 36.5125) radius 1.5875
  point P0 (69.85, 15.875)
  point P1 (14.6447, 47.625)
  point P2 (42.5053, 47.625)
extrude "Extrusion33" cut sketch "Sketch34" against normal blind 385.7625 contours A1 | A4
extrude "Extrusion34" add sketch "Sketch29" against normal blind 3.175 contours A14
sketch "Sketch35" plane through (88.9, -15.875, -174.625) normal (0, 0, -1) x (-1, 0, 0)
  line L0 (-57.6363, 49.8409) -> (12.379, -45.4409)
  arc A0 (25.1644, -24.4363) -> (12.379, -45.4409) centre (23.0923, -37.5685) ccw
  line L1 (25.1644, -24.4363) -> (19.05, -16.1153)
  line L2 (19.05, 57.15) -> (19.05, 13.7583) projected
  line L3 (19.05, -16.1153) -> (19.05, 57.15)
  line L4 (19.05, 57.15) -> (-60.0716, 96.4163)
  line L5 (-60.0716, 96.4163) -> (-57.6363, 49.8409)
  point P0 (88.9, 15.875)
extrude "Extrusion35" cut sketch "Sketch35" against normal blind 3.175
sketch "Sketch36" plane through (3.175, -15.875, -174.625) normal (0, 0, -1) x (-1, 0, 0)
  arc A0 (-20.1395, 47.625) -> (-56.0605, 47.625) centre (-38.1, 69.85) ccw projected
  line L0 (-66.675, 69.85) -> (-66.675, 21.0483)
  line L1 (-66.675, 21.0483) -> (-42.1468, 25.1812)
  line L2 (-42.1468, 25.1812) -> (-20.1395, 47.625)
  line L3 (-56.0605, 47.625) -> (-64.4265, 47.625) projected
  line L4 (-56.0605, 47.625) -> (-42.1468, 25.1812)
  point P0 (3.175, 15.875)
extrude "Extrusion36" add sketch "Sketch36" against normal blind 3.175 contours A0 L4 L1 L0
mirror "Mirror8" about plane through (3.175, -19.05, -3.175) normal (0, 0, 1)
sketch "Sketch37" plane through (3.175, -15.875, -174.625) normal (0, 0, -1) x (-1, 0, 0)
  line L0 (-66.675, 13.7583) -> (-66.675, 69.85) projected
  line L1 (-66.675, 61.542) -> (-125.4832, 61.542)
  line L2 (-125.4832, 61.542) -> (-125.4832, -13.7943)
  line L3 (-125.4832, -13.7943) -> (-66.675, -13.7943)
  line L4 (-66.675, -13.7943) -> (-66.675, 61.542)
  point P0 (3.175, 15.875)
extrude "Extrusion37" cut sketch "Sketch37" against normal blind 442.9125
sketch "Sketch38" plane through (3.175, -15.875, -174.625) normal (0, 0, -1) x (-1, 0, 0)
  arc A0 (-20.1395, 47.625) -> (-66.675, 69.85) centre (-38.1, 69.85) ccw projected
  circle A1 centre (-38.1, 69.85) radius 28.575
  line L0 (-66.675, 0) -> (0, 0) projected
  line L1 (-61.7789, 53.855) -> (-25.4, 0)
  line L2 (0, 0) -> (-66.675, 0) projected
  line L3 (0, -3.175) -> (0, 53.975) projected
  line L4 (-66.675, 69.85) -> (-66.675, 0)
  point P0 (3.175, 15.875)
  dimension "d164" = 25.4
extrude "Extrusion38" cut sketch "Sketch38" against normal blind 442.9125 contours L1 L0 L4 A1
sketch "Sketch39" plane through (3.175, -15.875, -174.625) normal (0, 0, -1) x (-1, 0, 0)
  line L0 (0, 47.625) -> (-20.1395, 47.625) projected
  arc A0 (-20.1395, 47.625) -> (-61.7789, 53.855) centre (-38.1, 69.85) ccw projected
  arc A1 (-20.1395, 47.625) -> (-61.7789, 53.855) centre (-38.1, 69.85) ccw projected
  arc A2 (-10.668, 61.849) -> (0, 47.625) centre (0, 58.7375) ccw
  line L1 (0, -3.175) -> (0, 53.975) projected
  point P0 (3.175, 15.875)
extrude "Extrusion39" add sketch "Sketch39" against normal blind 3.175
mirror "Mirror9" about plane through (3.175, -19.05, -3.175) normal (0, 0, 1) of "Extrusion39"
properties part number "Pivot Bracket 2"
